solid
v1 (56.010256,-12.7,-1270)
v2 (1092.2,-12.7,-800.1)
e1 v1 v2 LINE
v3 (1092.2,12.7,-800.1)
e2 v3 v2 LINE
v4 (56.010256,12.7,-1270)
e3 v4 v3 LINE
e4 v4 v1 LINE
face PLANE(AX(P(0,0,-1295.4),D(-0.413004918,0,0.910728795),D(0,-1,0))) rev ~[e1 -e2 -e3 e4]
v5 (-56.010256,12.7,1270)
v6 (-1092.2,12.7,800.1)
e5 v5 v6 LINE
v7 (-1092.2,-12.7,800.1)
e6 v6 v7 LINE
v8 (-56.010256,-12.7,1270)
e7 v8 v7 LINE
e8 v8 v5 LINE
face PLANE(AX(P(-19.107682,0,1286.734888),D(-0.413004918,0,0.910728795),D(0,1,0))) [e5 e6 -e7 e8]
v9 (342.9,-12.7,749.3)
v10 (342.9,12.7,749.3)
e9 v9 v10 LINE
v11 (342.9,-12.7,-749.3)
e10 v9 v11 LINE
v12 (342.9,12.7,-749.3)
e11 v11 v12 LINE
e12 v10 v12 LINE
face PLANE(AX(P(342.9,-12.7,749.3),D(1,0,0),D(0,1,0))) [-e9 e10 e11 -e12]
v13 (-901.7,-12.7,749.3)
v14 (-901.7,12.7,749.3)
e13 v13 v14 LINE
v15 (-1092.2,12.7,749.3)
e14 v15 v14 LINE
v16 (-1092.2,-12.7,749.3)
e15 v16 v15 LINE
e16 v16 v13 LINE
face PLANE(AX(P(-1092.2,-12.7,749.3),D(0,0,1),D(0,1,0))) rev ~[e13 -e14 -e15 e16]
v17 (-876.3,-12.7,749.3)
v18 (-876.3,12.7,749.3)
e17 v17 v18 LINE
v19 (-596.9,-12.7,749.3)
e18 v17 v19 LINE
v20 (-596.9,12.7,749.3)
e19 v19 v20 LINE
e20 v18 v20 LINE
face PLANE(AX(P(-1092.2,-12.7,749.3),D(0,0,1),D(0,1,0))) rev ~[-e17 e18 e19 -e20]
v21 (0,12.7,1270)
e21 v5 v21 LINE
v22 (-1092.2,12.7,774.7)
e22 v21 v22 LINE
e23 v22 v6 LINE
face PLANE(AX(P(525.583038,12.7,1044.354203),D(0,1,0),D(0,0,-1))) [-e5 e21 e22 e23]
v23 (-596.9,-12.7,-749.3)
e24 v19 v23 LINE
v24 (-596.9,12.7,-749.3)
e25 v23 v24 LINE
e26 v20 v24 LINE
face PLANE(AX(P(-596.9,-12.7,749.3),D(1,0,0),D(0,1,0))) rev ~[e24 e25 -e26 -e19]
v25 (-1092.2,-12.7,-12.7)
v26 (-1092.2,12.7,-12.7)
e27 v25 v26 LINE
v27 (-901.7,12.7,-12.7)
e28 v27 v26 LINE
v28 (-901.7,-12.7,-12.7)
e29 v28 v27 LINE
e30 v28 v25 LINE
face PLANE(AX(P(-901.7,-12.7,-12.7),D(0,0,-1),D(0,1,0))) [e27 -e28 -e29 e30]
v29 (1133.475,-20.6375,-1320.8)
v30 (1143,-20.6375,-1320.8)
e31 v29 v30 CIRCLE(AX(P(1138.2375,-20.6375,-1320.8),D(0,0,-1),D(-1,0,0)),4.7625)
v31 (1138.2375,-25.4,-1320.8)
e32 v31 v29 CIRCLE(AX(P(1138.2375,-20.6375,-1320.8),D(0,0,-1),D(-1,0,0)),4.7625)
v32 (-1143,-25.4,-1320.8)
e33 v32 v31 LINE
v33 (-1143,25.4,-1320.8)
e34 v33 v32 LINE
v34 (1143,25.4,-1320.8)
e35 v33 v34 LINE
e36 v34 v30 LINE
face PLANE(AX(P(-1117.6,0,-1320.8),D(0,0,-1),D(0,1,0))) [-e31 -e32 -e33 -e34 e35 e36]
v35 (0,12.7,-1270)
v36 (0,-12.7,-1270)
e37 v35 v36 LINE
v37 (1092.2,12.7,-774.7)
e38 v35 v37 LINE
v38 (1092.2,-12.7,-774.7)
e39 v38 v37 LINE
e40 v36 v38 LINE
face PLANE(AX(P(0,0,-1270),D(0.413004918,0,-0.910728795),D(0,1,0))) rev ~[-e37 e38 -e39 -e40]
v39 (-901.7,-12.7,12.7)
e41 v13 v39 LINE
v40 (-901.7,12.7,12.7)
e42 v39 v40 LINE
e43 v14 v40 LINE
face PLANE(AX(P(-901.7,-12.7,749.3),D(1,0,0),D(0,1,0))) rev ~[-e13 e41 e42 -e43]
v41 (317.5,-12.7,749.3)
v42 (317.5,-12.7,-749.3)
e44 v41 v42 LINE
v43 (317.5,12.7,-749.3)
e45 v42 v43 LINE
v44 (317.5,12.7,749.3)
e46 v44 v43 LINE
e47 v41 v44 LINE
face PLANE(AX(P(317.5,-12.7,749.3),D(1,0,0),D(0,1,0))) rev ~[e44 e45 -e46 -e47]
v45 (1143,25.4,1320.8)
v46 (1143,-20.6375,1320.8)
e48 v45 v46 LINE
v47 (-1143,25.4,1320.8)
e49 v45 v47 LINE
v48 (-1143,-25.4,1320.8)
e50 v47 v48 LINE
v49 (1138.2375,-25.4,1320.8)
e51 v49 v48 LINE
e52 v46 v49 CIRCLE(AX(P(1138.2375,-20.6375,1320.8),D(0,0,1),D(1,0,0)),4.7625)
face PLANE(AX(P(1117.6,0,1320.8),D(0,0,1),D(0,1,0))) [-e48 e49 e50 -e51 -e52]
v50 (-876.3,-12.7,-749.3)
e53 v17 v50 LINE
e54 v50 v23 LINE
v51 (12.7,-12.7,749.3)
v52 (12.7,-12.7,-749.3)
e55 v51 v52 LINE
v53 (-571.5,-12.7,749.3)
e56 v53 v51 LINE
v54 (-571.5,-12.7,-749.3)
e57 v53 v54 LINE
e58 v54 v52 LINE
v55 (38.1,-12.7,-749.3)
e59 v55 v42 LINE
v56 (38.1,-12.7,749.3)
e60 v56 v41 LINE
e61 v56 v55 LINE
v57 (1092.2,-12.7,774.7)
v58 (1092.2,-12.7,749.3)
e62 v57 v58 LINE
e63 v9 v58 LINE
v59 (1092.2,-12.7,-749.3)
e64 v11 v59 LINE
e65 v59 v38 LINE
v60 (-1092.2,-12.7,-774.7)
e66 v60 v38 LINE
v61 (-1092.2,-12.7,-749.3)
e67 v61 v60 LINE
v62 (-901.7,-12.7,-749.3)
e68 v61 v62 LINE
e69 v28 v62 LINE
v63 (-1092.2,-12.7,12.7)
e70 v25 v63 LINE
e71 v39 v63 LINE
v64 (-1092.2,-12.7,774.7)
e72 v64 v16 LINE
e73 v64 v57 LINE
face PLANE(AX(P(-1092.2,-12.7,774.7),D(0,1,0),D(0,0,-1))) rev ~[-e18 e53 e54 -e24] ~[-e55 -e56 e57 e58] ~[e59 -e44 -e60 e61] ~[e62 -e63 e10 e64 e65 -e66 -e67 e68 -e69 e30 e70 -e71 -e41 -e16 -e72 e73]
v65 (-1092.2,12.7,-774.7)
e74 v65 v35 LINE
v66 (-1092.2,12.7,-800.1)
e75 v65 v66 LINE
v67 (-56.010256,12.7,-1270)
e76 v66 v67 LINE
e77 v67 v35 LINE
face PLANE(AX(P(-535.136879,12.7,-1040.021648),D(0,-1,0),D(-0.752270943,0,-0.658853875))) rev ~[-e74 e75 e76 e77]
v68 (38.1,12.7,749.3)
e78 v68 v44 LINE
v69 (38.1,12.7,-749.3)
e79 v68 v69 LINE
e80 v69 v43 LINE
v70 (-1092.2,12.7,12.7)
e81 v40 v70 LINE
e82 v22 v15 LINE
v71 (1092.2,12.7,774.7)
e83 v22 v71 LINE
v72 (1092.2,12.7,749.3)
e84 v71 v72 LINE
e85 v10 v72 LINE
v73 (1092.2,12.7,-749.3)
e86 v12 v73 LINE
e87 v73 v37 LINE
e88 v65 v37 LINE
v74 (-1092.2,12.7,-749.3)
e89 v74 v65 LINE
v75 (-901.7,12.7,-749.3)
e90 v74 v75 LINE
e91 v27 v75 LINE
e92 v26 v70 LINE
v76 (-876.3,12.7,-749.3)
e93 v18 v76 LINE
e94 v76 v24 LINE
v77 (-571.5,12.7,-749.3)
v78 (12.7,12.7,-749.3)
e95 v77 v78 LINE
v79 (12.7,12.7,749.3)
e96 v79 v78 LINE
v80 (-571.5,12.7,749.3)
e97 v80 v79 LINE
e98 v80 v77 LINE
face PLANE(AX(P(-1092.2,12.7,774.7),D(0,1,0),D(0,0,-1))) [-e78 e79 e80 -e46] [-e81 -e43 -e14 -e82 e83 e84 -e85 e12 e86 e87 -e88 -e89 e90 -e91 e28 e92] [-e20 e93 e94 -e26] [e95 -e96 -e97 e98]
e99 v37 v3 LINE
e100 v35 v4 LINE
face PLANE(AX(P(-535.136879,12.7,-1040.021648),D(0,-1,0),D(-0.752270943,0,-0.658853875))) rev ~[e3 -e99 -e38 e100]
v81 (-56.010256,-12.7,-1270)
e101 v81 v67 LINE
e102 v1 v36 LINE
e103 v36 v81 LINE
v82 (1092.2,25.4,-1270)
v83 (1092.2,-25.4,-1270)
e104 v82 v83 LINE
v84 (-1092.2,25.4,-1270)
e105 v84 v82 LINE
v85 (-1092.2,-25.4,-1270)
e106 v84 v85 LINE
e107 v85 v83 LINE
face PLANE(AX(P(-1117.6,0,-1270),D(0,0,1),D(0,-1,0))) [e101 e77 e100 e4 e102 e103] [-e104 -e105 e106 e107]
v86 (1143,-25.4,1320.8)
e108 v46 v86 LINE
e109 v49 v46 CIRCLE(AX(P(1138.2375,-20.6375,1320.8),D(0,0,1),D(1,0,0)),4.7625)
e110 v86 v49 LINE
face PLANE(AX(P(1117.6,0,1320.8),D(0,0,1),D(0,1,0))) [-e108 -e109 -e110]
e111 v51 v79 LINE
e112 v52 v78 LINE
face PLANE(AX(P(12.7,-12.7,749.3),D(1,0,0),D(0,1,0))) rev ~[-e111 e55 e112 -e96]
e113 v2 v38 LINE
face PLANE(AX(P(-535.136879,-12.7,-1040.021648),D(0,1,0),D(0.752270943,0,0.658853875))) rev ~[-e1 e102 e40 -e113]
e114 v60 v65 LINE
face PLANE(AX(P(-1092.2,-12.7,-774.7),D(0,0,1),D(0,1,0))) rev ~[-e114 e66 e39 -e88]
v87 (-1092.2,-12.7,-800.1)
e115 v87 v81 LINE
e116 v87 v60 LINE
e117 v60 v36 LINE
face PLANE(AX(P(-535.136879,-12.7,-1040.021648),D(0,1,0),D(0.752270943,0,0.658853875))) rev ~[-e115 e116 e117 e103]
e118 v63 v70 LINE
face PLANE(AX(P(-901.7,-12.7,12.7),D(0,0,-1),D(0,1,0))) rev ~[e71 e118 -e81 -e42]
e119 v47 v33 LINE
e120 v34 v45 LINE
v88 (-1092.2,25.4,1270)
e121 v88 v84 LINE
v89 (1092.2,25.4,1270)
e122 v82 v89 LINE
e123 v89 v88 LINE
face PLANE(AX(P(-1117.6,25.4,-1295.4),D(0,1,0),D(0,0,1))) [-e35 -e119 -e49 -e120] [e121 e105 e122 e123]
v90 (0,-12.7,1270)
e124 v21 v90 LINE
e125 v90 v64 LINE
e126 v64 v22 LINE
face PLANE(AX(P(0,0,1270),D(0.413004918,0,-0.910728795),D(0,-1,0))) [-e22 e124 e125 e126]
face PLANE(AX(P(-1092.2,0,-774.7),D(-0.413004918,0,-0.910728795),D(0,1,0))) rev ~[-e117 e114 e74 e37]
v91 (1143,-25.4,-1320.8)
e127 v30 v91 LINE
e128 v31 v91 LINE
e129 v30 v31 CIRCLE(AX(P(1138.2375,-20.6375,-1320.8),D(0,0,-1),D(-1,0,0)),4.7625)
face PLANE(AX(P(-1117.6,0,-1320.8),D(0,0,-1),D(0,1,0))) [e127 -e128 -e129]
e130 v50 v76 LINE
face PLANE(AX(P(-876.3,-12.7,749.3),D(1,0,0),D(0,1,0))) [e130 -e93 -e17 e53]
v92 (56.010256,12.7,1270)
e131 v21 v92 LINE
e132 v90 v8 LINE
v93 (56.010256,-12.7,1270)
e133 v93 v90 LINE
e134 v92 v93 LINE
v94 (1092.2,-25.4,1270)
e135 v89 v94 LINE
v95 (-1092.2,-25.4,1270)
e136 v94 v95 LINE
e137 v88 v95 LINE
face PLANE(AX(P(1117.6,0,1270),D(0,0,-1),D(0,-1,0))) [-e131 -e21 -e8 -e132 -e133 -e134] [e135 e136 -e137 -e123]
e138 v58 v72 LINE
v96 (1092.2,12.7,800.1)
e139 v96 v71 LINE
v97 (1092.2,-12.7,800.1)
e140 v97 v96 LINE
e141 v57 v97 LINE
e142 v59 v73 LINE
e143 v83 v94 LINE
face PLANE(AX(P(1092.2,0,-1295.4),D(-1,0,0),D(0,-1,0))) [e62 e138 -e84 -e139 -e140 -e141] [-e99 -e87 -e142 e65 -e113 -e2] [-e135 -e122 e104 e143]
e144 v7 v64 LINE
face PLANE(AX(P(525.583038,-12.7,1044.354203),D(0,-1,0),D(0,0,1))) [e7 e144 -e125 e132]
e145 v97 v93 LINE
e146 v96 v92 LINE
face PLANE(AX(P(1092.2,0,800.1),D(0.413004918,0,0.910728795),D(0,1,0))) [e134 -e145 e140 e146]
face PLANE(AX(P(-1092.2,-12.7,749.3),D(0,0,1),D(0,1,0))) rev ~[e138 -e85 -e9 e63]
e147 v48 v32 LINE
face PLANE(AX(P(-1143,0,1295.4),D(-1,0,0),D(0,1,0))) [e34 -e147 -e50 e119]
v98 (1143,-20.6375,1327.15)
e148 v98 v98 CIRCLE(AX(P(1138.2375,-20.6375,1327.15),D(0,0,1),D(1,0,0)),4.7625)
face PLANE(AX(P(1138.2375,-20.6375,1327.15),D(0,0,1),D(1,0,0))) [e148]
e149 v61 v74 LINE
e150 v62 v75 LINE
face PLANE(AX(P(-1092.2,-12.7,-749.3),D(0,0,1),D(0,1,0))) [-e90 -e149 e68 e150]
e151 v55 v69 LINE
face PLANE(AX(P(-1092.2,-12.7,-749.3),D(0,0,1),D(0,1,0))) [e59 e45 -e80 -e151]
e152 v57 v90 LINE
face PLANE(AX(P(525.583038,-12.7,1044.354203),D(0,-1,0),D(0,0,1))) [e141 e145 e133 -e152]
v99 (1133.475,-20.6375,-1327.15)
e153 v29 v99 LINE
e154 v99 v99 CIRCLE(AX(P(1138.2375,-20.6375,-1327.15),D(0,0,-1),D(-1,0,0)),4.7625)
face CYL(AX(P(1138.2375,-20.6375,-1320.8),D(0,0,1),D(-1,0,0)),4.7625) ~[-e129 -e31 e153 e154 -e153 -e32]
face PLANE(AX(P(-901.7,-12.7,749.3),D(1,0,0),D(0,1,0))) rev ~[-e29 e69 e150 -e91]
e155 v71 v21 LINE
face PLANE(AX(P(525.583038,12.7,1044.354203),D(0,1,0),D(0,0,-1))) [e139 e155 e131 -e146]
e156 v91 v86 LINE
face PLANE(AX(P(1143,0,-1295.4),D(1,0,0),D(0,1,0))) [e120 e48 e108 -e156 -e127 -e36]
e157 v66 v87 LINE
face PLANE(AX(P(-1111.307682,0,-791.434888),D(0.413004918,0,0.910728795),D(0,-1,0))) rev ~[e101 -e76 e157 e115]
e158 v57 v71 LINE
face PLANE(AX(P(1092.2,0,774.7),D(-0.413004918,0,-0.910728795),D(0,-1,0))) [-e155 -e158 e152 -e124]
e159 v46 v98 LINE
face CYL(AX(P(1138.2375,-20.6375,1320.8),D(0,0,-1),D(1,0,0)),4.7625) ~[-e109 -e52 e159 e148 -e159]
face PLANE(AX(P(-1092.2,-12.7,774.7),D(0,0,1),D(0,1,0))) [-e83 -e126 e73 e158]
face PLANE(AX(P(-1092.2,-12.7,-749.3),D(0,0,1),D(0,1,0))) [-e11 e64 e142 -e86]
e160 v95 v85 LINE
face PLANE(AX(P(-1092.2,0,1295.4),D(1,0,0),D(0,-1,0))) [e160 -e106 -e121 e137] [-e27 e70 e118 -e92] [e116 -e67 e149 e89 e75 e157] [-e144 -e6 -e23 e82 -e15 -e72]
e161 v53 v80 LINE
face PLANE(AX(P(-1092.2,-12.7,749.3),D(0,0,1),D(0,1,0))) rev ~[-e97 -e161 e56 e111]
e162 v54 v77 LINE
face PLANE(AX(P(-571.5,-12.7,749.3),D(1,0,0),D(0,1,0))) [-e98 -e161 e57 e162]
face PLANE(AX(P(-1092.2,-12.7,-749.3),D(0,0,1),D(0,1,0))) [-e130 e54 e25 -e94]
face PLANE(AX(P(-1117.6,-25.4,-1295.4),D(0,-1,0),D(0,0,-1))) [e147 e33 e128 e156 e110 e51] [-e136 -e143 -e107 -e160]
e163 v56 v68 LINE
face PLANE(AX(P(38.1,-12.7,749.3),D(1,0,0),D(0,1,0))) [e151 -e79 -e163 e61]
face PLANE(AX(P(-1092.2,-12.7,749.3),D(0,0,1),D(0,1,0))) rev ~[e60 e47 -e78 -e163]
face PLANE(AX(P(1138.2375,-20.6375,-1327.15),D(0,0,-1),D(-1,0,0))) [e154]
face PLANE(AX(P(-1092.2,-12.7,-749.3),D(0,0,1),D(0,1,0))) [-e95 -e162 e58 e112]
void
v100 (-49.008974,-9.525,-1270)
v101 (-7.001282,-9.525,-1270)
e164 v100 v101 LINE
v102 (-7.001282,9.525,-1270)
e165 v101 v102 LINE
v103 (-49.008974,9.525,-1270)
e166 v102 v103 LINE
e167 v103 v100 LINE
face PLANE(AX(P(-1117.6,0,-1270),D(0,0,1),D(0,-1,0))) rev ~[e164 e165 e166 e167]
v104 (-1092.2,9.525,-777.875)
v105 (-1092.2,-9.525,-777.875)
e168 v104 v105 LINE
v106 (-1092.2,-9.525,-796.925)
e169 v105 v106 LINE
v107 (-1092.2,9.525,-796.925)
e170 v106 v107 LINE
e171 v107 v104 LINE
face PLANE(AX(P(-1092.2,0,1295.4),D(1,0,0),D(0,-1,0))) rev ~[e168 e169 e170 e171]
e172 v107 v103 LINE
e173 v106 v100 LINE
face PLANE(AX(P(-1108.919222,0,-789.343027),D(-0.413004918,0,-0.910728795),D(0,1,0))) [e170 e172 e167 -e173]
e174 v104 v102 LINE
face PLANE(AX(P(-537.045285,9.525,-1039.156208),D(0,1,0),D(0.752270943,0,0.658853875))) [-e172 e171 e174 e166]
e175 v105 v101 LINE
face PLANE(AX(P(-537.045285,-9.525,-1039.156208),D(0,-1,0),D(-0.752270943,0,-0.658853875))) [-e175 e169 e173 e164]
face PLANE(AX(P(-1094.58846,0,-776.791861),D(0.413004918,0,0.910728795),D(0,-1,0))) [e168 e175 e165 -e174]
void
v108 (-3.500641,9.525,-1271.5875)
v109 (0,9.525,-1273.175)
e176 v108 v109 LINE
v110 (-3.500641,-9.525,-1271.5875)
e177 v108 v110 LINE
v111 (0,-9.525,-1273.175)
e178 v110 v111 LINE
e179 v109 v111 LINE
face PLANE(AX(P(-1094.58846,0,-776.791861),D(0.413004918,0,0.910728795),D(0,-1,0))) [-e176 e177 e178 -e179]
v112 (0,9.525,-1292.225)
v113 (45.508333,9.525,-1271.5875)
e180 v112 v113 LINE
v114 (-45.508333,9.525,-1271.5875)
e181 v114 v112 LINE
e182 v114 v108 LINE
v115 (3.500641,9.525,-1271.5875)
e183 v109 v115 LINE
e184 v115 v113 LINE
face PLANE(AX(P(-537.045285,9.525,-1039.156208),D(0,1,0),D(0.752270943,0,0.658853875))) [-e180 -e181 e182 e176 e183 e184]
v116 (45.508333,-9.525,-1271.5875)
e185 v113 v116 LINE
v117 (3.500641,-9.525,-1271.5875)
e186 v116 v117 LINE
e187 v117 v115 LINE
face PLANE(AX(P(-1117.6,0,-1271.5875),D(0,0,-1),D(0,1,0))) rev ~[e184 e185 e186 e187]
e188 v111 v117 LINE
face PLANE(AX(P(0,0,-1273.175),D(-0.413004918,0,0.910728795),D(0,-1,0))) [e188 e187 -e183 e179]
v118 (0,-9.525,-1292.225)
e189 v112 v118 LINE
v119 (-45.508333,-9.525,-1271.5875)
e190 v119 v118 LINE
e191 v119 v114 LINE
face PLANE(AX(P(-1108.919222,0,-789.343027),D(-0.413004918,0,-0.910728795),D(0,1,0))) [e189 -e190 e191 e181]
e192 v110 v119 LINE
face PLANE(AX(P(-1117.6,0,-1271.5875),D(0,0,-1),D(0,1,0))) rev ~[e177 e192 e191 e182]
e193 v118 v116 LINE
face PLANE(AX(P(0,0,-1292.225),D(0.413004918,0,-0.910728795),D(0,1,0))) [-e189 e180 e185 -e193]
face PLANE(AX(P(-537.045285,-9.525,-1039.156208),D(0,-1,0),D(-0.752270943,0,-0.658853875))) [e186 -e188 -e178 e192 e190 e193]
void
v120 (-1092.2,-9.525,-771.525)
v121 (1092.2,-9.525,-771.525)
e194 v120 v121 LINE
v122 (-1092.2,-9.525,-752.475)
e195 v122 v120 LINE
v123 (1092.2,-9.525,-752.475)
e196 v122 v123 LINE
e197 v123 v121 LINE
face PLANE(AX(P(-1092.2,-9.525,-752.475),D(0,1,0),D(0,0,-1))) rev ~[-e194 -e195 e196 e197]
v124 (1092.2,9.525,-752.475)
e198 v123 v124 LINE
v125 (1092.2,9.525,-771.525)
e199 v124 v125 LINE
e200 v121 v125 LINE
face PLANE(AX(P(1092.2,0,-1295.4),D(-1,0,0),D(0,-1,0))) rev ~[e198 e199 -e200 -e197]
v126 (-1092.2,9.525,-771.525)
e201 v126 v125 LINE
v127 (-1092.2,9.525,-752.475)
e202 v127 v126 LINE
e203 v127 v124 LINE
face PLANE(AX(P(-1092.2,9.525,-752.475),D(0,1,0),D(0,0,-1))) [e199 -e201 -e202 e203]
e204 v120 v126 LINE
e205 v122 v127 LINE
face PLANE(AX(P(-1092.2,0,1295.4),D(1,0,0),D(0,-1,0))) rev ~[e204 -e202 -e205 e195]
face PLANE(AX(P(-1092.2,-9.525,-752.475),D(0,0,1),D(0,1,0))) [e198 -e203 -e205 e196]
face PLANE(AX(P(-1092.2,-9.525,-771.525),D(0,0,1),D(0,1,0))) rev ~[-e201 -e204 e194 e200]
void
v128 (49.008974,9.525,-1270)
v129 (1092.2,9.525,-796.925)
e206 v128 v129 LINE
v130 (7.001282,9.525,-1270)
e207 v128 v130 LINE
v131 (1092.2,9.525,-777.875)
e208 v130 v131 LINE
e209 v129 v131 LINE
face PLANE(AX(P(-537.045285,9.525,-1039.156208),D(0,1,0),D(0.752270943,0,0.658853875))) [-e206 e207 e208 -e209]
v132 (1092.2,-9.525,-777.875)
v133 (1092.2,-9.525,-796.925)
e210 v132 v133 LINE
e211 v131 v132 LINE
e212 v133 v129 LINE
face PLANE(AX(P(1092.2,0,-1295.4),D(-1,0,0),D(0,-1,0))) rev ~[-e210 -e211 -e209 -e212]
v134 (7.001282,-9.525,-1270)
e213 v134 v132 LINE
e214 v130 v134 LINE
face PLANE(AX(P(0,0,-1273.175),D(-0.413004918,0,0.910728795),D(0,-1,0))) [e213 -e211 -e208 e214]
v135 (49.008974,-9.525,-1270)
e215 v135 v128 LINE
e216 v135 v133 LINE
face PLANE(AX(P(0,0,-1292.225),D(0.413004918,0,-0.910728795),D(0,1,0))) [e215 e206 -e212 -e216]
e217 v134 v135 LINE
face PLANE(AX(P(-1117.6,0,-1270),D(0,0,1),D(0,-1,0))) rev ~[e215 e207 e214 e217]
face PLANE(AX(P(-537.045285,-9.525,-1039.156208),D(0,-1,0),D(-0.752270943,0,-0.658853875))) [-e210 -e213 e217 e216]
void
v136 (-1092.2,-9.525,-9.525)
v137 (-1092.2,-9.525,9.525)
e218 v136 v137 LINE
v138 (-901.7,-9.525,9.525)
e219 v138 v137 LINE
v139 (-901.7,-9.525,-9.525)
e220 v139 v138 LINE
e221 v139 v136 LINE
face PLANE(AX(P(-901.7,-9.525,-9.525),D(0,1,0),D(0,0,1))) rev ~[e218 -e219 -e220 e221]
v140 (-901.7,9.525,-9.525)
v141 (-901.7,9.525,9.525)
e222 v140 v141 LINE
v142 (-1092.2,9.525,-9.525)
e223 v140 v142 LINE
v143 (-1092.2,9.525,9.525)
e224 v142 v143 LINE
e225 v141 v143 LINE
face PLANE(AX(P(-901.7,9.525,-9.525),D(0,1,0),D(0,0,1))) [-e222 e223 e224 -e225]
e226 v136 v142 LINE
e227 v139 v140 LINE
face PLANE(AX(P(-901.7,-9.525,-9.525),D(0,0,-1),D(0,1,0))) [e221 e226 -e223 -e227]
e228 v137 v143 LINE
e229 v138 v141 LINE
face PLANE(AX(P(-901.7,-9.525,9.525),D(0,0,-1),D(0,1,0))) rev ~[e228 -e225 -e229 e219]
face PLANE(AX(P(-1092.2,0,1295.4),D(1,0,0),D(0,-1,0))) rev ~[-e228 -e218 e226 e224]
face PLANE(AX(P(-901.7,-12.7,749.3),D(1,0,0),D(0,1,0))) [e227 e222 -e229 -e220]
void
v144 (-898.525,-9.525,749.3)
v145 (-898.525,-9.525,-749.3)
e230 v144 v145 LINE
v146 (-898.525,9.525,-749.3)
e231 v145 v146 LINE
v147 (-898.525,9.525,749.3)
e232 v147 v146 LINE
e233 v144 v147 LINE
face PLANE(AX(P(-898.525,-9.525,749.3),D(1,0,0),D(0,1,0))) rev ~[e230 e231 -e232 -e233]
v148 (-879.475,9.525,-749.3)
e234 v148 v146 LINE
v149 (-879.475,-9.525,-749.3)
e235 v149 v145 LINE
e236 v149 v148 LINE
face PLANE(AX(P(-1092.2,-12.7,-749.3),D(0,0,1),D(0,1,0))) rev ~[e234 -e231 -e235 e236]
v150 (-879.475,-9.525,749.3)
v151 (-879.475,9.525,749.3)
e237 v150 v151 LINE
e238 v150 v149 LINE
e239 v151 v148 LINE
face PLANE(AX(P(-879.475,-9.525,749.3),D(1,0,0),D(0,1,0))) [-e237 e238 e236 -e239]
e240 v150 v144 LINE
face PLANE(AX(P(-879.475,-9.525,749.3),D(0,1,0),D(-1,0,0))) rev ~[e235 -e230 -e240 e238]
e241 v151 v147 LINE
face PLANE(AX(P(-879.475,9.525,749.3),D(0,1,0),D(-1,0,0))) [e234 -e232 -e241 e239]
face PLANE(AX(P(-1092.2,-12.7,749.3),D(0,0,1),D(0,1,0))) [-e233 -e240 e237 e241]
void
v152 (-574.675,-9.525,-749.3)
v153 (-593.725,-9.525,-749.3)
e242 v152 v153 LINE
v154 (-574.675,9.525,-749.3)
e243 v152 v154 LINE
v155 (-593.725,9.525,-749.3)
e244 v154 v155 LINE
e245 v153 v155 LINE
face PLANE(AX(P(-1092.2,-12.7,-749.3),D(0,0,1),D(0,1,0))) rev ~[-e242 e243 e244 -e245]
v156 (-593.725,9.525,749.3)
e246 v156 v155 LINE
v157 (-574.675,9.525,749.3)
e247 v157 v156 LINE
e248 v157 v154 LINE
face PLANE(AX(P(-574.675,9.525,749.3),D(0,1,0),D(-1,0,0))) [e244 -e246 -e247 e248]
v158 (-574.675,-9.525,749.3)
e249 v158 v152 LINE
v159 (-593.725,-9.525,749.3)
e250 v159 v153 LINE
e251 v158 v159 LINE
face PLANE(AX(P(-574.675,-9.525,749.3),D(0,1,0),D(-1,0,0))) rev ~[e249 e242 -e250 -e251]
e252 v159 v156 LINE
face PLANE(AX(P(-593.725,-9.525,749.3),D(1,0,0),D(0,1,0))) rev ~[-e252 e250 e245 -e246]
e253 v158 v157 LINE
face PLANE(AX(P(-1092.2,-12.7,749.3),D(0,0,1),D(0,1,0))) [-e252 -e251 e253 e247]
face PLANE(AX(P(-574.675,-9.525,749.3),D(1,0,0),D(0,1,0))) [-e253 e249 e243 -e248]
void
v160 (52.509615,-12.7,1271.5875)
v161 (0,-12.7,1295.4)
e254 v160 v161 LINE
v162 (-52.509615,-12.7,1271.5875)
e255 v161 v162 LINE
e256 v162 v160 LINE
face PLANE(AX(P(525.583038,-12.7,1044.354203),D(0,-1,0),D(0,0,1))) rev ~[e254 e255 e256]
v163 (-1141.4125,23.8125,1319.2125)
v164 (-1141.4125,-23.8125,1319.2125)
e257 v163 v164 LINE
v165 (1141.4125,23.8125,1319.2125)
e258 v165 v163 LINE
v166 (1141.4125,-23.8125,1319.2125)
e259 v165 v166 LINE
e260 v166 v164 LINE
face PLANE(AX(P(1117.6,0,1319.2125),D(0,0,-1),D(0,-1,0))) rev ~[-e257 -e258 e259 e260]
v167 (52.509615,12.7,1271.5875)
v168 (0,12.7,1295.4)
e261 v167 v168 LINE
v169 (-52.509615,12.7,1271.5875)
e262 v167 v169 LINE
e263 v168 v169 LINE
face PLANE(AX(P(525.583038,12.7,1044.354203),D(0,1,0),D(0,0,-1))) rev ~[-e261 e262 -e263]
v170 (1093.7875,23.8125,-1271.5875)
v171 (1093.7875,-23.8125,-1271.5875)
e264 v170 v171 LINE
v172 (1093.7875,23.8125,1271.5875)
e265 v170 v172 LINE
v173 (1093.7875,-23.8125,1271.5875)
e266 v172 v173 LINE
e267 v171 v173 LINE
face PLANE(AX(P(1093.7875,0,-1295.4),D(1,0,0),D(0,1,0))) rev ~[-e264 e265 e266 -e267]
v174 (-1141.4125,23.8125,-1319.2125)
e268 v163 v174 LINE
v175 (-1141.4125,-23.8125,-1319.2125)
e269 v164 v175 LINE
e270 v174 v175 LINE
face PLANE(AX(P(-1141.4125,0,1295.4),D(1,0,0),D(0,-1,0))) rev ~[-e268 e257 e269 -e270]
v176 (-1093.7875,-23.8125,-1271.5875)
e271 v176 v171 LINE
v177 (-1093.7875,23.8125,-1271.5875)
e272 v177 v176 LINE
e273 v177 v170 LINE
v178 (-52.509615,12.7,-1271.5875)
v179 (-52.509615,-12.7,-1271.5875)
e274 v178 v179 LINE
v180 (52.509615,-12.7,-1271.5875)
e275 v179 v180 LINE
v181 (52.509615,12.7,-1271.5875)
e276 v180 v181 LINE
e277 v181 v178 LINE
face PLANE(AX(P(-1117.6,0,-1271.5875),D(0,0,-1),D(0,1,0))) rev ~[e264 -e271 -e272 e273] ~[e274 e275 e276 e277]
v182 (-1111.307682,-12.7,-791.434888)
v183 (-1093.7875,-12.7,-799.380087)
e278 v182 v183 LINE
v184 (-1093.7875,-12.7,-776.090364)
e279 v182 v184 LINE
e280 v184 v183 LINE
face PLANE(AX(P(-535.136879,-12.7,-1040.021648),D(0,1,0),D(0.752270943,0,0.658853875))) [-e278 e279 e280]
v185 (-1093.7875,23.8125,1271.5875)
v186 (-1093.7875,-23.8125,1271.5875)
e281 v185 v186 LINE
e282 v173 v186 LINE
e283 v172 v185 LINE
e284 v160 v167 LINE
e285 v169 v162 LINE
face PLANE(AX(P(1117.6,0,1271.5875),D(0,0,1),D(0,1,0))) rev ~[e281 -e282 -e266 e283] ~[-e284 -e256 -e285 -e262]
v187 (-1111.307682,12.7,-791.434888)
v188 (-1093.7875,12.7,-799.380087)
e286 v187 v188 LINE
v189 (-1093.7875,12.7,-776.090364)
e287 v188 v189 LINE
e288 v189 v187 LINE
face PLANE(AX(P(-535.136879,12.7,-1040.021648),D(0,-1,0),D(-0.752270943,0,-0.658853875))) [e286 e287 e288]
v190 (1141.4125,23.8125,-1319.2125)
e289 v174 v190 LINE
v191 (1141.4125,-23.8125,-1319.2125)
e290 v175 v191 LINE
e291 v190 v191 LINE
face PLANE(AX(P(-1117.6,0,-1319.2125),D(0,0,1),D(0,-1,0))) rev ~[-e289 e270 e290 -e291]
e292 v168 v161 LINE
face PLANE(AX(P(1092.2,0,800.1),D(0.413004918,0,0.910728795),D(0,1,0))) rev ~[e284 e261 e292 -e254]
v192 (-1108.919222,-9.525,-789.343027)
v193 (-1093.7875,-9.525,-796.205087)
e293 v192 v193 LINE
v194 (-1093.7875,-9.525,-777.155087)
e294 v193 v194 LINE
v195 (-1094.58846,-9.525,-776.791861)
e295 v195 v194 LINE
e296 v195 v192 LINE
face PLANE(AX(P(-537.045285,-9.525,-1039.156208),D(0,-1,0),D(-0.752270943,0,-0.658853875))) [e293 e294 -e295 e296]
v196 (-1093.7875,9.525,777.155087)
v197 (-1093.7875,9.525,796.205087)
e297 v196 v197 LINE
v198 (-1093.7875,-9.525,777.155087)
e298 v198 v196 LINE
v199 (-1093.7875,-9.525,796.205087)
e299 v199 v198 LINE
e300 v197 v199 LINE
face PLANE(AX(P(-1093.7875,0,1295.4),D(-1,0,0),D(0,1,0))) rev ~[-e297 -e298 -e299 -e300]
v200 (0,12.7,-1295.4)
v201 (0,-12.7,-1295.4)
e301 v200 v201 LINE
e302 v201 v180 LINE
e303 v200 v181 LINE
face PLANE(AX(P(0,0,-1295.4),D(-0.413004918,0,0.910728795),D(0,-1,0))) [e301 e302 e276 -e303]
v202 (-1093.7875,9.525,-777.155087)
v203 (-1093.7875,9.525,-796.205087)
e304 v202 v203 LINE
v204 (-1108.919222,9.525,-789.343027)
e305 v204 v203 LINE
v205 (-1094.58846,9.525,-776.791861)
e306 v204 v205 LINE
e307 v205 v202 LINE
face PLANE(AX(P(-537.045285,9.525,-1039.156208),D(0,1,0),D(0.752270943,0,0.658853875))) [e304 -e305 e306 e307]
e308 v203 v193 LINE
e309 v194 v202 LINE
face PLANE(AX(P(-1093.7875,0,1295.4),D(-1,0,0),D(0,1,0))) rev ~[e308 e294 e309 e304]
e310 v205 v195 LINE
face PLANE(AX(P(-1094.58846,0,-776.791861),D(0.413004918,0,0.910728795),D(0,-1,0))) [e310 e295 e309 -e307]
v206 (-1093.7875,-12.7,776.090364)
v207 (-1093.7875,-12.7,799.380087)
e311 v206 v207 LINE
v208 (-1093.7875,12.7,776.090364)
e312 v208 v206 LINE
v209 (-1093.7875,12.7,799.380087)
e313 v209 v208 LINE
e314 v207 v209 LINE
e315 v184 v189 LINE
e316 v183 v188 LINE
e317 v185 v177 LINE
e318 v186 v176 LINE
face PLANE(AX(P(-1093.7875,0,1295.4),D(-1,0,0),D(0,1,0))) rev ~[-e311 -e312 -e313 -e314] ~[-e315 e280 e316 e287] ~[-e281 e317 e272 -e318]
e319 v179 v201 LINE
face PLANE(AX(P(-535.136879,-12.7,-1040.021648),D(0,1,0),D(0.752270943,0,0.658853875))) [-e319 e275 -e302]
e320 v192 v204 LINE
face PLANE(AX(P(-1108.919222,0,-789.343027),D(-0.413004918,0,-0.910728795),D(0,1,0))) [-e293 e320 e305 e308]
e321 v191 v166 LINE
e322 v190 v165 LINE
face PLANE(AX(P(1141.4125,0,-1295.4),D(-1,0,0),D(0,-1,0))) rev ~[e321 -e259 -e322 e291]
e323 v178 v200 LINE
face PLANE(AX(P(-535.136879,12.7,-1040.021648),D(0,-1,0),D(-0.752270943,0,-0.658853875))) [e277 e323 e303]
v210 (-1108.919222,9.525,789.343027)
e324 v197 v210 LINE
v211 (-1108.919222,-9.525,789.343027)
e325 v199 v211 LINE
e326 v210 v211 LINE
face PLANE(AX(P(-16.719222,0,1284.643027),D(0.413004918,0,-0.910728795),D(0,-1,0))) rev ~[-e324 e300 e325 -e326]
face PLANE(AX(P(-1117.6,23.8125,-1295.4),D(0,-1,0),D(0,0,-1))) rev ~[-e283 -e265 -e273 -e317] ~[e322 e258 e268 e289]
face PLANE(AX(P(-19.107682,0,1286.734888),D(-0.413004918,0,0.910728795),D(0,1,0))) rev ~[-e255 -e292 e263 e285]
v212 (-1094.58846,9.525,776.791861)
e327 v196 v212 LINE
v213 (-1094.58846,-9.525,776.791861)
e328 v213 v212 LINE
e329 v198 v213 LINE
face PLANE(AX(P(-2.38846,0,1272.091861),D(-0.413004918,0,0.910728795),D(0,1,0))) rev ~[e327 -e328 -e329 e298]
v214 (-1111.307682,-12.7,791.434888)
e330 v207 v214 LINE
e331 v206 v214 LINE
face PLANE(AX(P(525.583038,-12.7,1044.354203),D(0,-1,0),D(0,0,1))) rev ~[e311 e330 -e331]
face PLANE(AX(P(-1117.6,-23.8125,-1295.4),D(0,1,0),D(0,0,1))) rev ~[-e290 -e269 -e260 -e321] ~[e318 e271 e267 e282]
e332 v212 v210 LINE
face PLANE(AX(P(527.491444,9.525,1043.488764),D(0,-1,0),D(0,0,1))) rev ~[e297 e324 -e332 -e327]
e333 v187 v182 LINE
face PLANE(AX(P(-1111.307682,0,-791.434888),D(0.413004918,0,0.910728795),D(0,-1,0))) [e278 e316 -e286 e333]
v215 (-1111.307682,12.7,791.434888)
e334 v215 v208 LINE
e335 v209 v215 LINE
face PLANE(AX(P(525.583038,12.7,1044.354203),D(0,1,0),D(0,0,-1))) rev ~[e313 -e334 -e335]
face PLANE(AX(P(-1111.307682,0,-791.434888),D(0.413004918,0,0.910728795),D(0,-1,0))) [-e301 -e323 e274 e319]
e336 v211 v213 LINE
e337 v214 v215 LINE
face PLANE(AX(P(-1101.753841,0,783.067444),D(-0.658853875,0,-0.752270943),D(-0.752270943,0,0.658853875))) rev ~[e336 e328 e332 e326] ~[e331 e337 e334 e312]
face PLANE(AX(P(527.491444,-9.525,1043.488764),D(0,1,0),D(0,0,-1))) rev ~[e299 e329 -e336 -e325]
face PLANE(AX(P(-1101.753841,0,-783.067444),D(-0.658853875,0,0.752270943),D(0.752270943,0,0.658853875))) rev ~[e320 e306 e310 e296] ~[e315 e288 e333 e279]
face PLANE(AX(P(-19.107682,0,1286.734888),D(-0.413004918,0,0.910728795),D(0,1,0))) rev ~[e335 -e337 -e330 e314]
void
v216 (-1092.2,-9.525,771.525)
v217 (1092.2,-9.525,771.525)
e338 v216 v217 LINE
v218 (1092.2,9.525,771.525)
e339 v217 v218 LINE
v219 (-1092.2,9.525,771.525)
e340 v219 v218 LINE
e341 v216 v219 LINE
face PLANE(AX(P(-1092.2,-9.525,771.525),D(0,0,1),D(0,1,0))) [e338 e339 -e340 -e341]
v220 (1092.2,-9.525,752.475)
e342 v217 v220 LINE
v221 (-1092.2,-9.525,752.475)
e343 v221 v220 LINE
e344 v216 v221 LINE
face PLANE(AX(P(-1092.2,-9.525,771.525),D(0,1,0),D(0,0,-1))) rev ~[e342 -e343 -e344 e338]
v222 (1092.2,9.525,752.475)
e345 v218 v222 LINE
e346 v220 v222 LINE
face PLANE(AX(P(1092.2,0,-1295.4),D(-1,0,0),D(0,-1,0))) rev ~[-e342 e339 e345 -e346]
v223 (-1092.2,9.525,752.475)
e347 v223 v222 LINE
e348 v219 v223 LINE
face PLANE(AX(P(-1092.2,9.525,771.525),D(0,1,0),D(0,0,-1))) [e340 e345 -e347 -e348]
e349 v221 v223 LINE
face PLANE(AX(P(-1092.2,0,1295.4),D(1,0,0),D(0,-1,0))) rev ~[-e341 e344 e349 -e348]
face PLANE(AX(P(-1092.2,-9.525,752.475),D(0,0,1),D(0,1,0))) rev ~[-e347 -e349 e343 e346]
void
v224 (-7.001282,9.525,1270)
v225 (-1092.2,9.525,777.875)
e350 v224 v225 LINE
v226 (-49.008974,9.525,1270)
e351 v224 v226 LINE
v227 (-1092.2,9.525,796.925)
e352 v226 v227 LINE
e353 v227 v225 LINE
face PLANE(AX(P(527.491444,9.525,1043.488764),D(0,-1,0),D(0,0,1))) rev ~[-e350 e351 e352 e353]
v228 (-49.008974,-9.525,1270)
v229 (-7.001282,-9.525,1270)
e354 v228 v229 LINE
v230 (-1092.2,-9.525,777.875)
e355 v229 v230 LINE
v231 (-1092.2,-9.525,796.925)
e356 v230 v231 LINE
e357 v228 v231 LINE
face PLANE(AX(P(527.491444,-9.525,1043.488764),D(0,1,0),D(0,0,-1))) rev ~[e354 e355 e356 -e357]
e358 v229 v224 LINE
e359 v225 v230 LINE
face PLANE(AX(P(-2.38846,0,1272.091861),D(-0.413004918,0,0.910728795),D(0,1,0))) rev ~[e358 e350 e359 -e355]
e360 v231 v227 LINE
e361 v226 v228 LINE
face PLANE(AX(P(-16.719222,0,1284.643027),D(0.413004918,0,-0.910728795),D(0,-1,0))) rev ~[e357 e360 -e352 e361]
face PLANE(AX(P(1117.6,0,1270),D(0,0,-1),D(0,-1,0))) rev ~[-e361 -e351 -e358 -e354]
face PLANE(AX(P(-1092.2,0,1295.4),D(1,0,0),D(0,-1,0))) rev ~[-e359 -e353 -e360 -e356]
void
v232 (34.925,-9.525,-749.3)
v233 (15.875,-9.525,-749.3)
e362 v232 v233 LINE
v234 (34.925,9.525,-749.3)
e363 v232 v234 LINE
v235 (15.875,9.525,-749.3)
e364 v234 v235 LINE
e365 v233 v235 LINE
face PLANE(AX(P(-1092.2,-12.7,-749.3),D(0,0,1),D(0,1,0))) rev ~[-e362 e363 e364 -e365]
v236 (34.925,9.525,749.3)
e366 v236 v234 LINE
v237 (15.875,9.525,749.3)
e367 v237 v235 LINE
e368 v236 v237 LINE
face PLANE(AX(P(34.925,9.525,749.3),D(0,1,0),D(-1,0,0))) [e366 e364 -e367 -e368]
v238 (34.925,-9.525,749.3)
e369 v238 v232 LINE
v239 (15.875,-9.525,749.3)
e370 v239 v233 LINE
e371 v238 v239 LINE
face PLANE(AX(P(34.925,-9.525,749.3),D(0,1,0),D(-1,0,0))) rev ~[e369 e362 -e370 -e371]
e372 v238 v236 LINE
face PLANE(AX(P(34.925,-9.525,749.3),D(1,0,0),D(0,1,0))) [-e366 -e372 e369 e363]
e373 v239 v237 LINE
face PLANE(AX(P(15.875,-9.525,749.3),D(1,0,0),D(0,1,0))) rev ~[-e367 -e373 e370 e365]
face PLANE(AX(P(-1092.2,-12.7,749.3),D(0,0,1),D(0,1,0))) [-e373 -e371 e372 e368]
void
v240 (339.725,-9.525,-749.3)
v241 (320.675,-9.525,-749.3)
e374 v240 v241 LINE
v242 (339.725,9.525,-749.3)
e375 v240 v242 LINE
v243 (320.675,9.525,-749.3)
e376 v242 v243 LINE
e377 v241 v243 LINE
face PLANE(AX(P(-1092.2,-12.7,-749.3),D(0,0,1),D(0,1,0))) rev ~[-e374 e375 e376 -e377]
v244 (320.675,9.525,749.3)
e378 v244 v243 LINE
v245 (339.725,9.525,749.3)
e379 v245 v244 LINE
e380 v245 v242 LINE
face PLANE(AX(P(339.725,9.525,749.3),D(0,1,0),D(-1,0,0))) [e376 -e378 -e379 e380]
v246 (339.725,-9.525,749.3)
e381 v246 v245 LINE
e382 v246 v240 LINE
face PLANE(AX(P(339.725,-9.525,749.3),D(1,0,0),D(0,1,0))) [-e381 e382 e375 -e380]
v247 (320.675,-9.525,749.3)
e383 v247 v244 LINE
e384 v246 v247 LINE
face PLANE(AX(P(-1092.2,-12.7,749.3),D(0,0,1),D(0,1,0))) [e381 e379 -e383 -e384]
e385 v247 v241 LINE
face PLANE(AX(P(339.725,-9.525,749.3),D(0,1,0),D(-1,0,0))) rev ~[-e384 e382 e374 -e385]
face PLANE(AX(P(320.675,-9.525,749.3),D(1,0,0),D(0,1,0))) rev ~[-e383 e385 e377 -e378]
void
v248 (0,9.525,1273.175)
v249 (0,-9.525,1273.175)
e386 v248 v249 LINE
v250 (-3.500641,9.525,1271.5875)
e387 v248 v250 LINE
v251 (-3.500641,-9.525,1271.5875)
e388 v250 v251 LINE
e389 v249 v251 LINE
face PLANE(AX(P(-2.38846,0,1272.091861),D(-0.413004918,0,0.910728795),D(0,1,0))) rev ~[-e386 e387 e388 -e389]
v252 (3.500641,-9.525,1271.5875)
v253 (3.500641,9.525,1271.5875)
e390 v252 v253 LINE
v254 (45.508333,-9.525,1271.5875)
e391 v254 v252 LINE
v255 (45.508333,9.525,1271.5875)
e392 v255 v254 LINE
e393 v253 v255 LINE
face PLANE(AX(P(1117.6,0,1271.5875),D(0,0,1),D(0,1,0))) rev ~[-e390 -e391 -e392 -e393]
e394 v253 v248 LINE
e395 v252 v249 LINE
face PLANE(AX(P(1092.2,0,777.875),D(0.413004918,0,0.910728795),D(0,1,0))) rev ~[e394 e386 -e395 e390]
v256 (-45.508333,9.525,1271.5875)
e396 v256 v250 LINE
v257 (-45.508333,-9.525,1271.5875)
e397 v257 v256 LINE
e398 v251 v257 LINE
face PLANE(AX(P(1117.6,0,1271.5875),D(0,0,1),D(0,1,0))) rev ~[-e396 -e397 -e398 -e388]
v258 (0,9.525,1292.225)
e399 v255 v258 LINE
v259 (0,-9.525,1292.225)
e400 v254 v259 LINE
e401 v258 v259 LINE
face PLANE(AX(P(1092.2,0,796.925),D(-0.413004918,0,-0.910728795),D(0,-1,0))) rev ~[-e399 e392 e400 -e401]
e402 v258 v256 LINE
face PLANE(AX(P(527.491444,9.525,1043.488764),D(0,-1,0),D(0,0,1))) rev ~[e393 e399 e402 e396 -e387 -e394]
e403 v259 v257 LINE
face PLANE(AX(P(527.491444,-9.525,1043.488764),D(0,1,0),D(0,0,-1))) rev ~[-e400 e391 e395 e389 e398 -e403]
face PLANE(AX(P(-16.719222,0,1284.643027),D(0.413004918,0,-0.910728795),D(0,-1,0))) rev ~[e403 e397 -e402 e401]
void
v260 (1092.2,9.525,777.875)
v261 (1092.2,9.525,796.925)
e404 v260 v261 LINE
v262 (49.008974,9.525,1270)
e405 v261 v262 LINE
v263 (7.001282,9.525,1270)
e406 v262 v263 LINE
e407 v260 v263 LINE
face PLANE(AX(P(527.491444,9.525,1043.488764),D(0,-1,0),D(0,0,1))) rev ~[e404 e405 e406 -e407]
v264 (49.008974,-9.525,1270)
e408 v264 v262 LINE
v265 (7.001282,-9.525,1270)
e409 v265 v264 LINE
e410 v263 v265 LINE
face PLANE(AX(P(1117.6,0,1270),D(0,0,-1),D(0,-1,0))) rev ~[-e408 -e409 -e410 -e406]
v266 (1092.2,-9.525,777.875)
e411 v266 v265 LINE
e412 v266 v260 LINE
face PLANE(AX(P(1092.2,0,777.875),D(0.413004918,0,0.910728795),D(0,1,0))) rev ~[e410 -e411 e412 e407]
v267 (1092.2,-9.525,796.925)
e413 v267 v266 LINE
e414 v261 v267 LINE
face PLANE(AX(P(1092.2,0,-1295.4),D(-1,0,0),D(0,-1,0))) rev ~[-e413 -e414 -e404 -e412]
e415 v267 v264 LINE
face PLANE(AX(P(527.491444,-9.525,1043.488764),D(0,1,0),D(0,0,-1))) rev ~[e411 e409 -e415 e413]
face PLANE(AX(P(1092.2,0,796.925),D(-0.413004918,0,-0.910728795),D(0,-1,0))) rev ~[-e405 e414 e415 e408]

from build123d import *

# Parameters (mm, degrees)
SKETCH1_W           = 50.8
SKETCH1_H           = 50.8
SKETCH1_W_2         = 47.625
SKETCH1_H_2         = 47.625
SKETCH3_R           = 4.7625
BOSS_EXTRUDE1_DEPTH = 6.35
SKETCH4_R           = 4.7625
BOSS_EXTRUDE2_DEPTH = 6.35
SKETCH5_W           = 25.4
SKETCH5_H           = 25.4
SKETCH5_W_2         = 19.05
SKETCH5_H_2         = 19.05
BOSS_EXTRUDE3_DEPTH = 2184.4
SKETCH6_W           = 25.4
SKETCH6_H           = 25.4
SKETCH6_W_2         = 19.05
SKETCH6_H_2         = 19.05
BOSS_EXTRUDE4_DEPTH = 1498.6
SKETCH9_W           = 25.4
SKETCH9_H           = 25.4
SKETCH9_W_2         = 19.05
SKETCH9_H_2         = 19.05
SKETCH7_W           = 25.4
SKETCH7_H           = 25.4
SKETCH7_W_2         = 19.05
SKETCH7_H_2         = 19.05
SKETCH11_W          = 25.4
SKETCH11_H          = 25.4
SKETCH11_W_2        = 19.05
SKETCH11_H_2        = 19.05
BOSS_EXTRUDE5_DEPTH = 190.5


with BuildPart() as part:
    # Sweep1: sweep along a path in Sketch2
    with BuildLine(Plane(origin=(0, 0, 0), x_dir=(1, 0, 0), z_dir=(0, 1, 0))) as sweep1_path:
        Line((-1117.6, 1295.4), (1117.6, 1295.4))
        Line((1117.6, 1295.4), (1117.6, -1295.4))
        Line((1117.6, -1295.4), (-1117.6, -1295.4))
        Line((-1117.6, -1295.4), (-1117.6, 1295.4))
    # Sketch1 → Sweep1 (sweep)
    with BuildSketch(Plane.XY):
        with Locations((1117.6, 0)):
            Rectangle(SKETCH1_W, SKETCH1_H)
        with Locations((1117.6, 0)):
            Rectangle(SKETCH1_W_2, SKETCH1_H_2, mode=Mode.SUBTRACT)
    sweep(path=sweep1_path.line, transition=Transition.RIGHT)

    # Sketch3 → Boss-Extrude1 (add)
    with BuildSketch(Plane(origin=(0, 0, -1320.8), x_dir=(-1, 0, 0), z_dir=(0, 0, -1))):
        with Locations((-1138.2375, -20.6375)):
            Circle(SKETCH3_R)
    extrude(amount=BOSS_EXTRUDE1_DEPTH)

    # Sketch4 → Boss-Extrude2 (add)
    with BuildSketch(Plane.XY.offset(1320.8)):
        with Locations((1138.2375, -20.6375)):
            Circle(SKETCH4_R)
    extrude(amount=BOSS_EXTRUDE2_DEPTH)

    # Sketch5 → Boss-Extrude3 (add)
    with BuildSketch(Plane(origin=(-1092.2, 0, 0), x_dir=(0, 0, -1), z_dir=(1, 0, 0))):
        with Locations((-762, 0)):
            Rectangle(SKETCH5_W, SKETCH5_H)
        with Locations((-762, 0)):
            Rectangle(SKETCH5_W_2, SKETCH5_H_2, mode=Mode.SUBTRACT)
        with Locations((762, 0)):
            Rectangle(SKETCH5_W, SKETCH5_H)
        with Locations((762, 0)):
            Rectangle(SKETCH5_W_2, SKETCH5_H_2, mode=Mode.SUBTRACT)
    extrude(amount=BOSS_EXTRUDE3_DEPTH)

    # Sketch6 → Boss-Extrude4 (add)
    with BuildSketch(Plane(origin=(0, 0, 749.3), x_dir=(-1, 0, 0), z_dir=(0, 0, -1))):
        with Locations((-330.2, 0)):
            Rectangle(SKETCH6_W, SKETCH6_H)
        with Locations((-330.2, 0)):
            Rectangle(SKETCH6_W_2, SKETCH6_H_2, mode=Mode.SUBTRACT)
        with Locations((-25.4, 0)):
            Rectangle(SKETCH6_W, SKETCH6_H)
        with Locations((-25.4, 0)):
            Rectangle(SKETCH6_W_2, SKETCH6_H_2, mode=Mode.SUBTRACT)
        with Locations((584.2, 0)):
            Rectangle(SKETCH6_W, SKETCH6_H)
        with Locations((584.2, 0)):
            Rectangle(SKETCH6_W_2, SKETCH6_H_2, mode=Mode.SUBTRACT)
        with Locations((889, 0)):
            Rectangle(SKETCH6_W, SKETCH6_H)
        with Locations((889, 0)):
            Rectangle(SKETCH6_W_2, SKETCH6_H_2, mode=Mode.SUBTRACT)
    extrude(amount=BOSS_EXTRUDE4_DEPTH)

    # Sweep2: sweep along a path in Sketch10
    with BuildLine(Plane(origin=(0, 25.4, 0), x_dir=(1, 0, 0), z_dir=(0, 1, 0))) as sweep2_path:
        Line((1092.2, -774.7), (0, -1270))
        Line((0, -1270), (-1092.2, -774.7))
    # Sketch9 → Sweep2 (sweep)
    with BuildSketch(Plane.ZY.offset(-1092.2)):
        with Locations((787.4, 0)):
            Rectangle(SKETCH9_W, SKETCH9_H)
        with Locations((787.4, 0)):
            Rectangle(SKETCH9_W_2, SKETCH9_H_2, mode=Mode.SUBTRACT)
    sweep(path=sweep2_path.line, transition=Transition.RIGHT)

    # Sweep4: sweep along a path in Sketch8
    with BuildLine(Plane(origin=(0, 25.4, 0), x_dir=(1, 0, 0), z_dir=(0, 1, 0))) as sweep4_path:
        Line((-1092.2, 774.7), (0, 1270))
        Line((0, 1270), (1092.2, 774.7))
    # Sketch7 → Sweep4 (sweep)
    with BuildSketch(Plane.ZY.offset(-1092.2)):
        with Locations((-787.4, 0)):
            Rectangle(SKETCH7_W, SKETCH7_H)
        with Locations((-787.4, 0)):
            Rectangle(SKETCH7_W_2, SKETCH7_H_2, mode=Mode.SUBTRACT)
    sweep(path=sweep4_path.line, transition=Transition.RIGHT)

    # Sketch11 → Boss-Extrude5 (add)
    with BuildSketch(Plane.ZY.offset(901.7)):
        Rectangle(SKETCH11_W, SKETCH11_H)
        Rectangle(SKETCH11_W_2, SKETCH11_H_2, mode=Mode.SUBTRACT)
    extrude(amount=BOSS_EXTRUDE5_DEPTH)


solid = part.part
